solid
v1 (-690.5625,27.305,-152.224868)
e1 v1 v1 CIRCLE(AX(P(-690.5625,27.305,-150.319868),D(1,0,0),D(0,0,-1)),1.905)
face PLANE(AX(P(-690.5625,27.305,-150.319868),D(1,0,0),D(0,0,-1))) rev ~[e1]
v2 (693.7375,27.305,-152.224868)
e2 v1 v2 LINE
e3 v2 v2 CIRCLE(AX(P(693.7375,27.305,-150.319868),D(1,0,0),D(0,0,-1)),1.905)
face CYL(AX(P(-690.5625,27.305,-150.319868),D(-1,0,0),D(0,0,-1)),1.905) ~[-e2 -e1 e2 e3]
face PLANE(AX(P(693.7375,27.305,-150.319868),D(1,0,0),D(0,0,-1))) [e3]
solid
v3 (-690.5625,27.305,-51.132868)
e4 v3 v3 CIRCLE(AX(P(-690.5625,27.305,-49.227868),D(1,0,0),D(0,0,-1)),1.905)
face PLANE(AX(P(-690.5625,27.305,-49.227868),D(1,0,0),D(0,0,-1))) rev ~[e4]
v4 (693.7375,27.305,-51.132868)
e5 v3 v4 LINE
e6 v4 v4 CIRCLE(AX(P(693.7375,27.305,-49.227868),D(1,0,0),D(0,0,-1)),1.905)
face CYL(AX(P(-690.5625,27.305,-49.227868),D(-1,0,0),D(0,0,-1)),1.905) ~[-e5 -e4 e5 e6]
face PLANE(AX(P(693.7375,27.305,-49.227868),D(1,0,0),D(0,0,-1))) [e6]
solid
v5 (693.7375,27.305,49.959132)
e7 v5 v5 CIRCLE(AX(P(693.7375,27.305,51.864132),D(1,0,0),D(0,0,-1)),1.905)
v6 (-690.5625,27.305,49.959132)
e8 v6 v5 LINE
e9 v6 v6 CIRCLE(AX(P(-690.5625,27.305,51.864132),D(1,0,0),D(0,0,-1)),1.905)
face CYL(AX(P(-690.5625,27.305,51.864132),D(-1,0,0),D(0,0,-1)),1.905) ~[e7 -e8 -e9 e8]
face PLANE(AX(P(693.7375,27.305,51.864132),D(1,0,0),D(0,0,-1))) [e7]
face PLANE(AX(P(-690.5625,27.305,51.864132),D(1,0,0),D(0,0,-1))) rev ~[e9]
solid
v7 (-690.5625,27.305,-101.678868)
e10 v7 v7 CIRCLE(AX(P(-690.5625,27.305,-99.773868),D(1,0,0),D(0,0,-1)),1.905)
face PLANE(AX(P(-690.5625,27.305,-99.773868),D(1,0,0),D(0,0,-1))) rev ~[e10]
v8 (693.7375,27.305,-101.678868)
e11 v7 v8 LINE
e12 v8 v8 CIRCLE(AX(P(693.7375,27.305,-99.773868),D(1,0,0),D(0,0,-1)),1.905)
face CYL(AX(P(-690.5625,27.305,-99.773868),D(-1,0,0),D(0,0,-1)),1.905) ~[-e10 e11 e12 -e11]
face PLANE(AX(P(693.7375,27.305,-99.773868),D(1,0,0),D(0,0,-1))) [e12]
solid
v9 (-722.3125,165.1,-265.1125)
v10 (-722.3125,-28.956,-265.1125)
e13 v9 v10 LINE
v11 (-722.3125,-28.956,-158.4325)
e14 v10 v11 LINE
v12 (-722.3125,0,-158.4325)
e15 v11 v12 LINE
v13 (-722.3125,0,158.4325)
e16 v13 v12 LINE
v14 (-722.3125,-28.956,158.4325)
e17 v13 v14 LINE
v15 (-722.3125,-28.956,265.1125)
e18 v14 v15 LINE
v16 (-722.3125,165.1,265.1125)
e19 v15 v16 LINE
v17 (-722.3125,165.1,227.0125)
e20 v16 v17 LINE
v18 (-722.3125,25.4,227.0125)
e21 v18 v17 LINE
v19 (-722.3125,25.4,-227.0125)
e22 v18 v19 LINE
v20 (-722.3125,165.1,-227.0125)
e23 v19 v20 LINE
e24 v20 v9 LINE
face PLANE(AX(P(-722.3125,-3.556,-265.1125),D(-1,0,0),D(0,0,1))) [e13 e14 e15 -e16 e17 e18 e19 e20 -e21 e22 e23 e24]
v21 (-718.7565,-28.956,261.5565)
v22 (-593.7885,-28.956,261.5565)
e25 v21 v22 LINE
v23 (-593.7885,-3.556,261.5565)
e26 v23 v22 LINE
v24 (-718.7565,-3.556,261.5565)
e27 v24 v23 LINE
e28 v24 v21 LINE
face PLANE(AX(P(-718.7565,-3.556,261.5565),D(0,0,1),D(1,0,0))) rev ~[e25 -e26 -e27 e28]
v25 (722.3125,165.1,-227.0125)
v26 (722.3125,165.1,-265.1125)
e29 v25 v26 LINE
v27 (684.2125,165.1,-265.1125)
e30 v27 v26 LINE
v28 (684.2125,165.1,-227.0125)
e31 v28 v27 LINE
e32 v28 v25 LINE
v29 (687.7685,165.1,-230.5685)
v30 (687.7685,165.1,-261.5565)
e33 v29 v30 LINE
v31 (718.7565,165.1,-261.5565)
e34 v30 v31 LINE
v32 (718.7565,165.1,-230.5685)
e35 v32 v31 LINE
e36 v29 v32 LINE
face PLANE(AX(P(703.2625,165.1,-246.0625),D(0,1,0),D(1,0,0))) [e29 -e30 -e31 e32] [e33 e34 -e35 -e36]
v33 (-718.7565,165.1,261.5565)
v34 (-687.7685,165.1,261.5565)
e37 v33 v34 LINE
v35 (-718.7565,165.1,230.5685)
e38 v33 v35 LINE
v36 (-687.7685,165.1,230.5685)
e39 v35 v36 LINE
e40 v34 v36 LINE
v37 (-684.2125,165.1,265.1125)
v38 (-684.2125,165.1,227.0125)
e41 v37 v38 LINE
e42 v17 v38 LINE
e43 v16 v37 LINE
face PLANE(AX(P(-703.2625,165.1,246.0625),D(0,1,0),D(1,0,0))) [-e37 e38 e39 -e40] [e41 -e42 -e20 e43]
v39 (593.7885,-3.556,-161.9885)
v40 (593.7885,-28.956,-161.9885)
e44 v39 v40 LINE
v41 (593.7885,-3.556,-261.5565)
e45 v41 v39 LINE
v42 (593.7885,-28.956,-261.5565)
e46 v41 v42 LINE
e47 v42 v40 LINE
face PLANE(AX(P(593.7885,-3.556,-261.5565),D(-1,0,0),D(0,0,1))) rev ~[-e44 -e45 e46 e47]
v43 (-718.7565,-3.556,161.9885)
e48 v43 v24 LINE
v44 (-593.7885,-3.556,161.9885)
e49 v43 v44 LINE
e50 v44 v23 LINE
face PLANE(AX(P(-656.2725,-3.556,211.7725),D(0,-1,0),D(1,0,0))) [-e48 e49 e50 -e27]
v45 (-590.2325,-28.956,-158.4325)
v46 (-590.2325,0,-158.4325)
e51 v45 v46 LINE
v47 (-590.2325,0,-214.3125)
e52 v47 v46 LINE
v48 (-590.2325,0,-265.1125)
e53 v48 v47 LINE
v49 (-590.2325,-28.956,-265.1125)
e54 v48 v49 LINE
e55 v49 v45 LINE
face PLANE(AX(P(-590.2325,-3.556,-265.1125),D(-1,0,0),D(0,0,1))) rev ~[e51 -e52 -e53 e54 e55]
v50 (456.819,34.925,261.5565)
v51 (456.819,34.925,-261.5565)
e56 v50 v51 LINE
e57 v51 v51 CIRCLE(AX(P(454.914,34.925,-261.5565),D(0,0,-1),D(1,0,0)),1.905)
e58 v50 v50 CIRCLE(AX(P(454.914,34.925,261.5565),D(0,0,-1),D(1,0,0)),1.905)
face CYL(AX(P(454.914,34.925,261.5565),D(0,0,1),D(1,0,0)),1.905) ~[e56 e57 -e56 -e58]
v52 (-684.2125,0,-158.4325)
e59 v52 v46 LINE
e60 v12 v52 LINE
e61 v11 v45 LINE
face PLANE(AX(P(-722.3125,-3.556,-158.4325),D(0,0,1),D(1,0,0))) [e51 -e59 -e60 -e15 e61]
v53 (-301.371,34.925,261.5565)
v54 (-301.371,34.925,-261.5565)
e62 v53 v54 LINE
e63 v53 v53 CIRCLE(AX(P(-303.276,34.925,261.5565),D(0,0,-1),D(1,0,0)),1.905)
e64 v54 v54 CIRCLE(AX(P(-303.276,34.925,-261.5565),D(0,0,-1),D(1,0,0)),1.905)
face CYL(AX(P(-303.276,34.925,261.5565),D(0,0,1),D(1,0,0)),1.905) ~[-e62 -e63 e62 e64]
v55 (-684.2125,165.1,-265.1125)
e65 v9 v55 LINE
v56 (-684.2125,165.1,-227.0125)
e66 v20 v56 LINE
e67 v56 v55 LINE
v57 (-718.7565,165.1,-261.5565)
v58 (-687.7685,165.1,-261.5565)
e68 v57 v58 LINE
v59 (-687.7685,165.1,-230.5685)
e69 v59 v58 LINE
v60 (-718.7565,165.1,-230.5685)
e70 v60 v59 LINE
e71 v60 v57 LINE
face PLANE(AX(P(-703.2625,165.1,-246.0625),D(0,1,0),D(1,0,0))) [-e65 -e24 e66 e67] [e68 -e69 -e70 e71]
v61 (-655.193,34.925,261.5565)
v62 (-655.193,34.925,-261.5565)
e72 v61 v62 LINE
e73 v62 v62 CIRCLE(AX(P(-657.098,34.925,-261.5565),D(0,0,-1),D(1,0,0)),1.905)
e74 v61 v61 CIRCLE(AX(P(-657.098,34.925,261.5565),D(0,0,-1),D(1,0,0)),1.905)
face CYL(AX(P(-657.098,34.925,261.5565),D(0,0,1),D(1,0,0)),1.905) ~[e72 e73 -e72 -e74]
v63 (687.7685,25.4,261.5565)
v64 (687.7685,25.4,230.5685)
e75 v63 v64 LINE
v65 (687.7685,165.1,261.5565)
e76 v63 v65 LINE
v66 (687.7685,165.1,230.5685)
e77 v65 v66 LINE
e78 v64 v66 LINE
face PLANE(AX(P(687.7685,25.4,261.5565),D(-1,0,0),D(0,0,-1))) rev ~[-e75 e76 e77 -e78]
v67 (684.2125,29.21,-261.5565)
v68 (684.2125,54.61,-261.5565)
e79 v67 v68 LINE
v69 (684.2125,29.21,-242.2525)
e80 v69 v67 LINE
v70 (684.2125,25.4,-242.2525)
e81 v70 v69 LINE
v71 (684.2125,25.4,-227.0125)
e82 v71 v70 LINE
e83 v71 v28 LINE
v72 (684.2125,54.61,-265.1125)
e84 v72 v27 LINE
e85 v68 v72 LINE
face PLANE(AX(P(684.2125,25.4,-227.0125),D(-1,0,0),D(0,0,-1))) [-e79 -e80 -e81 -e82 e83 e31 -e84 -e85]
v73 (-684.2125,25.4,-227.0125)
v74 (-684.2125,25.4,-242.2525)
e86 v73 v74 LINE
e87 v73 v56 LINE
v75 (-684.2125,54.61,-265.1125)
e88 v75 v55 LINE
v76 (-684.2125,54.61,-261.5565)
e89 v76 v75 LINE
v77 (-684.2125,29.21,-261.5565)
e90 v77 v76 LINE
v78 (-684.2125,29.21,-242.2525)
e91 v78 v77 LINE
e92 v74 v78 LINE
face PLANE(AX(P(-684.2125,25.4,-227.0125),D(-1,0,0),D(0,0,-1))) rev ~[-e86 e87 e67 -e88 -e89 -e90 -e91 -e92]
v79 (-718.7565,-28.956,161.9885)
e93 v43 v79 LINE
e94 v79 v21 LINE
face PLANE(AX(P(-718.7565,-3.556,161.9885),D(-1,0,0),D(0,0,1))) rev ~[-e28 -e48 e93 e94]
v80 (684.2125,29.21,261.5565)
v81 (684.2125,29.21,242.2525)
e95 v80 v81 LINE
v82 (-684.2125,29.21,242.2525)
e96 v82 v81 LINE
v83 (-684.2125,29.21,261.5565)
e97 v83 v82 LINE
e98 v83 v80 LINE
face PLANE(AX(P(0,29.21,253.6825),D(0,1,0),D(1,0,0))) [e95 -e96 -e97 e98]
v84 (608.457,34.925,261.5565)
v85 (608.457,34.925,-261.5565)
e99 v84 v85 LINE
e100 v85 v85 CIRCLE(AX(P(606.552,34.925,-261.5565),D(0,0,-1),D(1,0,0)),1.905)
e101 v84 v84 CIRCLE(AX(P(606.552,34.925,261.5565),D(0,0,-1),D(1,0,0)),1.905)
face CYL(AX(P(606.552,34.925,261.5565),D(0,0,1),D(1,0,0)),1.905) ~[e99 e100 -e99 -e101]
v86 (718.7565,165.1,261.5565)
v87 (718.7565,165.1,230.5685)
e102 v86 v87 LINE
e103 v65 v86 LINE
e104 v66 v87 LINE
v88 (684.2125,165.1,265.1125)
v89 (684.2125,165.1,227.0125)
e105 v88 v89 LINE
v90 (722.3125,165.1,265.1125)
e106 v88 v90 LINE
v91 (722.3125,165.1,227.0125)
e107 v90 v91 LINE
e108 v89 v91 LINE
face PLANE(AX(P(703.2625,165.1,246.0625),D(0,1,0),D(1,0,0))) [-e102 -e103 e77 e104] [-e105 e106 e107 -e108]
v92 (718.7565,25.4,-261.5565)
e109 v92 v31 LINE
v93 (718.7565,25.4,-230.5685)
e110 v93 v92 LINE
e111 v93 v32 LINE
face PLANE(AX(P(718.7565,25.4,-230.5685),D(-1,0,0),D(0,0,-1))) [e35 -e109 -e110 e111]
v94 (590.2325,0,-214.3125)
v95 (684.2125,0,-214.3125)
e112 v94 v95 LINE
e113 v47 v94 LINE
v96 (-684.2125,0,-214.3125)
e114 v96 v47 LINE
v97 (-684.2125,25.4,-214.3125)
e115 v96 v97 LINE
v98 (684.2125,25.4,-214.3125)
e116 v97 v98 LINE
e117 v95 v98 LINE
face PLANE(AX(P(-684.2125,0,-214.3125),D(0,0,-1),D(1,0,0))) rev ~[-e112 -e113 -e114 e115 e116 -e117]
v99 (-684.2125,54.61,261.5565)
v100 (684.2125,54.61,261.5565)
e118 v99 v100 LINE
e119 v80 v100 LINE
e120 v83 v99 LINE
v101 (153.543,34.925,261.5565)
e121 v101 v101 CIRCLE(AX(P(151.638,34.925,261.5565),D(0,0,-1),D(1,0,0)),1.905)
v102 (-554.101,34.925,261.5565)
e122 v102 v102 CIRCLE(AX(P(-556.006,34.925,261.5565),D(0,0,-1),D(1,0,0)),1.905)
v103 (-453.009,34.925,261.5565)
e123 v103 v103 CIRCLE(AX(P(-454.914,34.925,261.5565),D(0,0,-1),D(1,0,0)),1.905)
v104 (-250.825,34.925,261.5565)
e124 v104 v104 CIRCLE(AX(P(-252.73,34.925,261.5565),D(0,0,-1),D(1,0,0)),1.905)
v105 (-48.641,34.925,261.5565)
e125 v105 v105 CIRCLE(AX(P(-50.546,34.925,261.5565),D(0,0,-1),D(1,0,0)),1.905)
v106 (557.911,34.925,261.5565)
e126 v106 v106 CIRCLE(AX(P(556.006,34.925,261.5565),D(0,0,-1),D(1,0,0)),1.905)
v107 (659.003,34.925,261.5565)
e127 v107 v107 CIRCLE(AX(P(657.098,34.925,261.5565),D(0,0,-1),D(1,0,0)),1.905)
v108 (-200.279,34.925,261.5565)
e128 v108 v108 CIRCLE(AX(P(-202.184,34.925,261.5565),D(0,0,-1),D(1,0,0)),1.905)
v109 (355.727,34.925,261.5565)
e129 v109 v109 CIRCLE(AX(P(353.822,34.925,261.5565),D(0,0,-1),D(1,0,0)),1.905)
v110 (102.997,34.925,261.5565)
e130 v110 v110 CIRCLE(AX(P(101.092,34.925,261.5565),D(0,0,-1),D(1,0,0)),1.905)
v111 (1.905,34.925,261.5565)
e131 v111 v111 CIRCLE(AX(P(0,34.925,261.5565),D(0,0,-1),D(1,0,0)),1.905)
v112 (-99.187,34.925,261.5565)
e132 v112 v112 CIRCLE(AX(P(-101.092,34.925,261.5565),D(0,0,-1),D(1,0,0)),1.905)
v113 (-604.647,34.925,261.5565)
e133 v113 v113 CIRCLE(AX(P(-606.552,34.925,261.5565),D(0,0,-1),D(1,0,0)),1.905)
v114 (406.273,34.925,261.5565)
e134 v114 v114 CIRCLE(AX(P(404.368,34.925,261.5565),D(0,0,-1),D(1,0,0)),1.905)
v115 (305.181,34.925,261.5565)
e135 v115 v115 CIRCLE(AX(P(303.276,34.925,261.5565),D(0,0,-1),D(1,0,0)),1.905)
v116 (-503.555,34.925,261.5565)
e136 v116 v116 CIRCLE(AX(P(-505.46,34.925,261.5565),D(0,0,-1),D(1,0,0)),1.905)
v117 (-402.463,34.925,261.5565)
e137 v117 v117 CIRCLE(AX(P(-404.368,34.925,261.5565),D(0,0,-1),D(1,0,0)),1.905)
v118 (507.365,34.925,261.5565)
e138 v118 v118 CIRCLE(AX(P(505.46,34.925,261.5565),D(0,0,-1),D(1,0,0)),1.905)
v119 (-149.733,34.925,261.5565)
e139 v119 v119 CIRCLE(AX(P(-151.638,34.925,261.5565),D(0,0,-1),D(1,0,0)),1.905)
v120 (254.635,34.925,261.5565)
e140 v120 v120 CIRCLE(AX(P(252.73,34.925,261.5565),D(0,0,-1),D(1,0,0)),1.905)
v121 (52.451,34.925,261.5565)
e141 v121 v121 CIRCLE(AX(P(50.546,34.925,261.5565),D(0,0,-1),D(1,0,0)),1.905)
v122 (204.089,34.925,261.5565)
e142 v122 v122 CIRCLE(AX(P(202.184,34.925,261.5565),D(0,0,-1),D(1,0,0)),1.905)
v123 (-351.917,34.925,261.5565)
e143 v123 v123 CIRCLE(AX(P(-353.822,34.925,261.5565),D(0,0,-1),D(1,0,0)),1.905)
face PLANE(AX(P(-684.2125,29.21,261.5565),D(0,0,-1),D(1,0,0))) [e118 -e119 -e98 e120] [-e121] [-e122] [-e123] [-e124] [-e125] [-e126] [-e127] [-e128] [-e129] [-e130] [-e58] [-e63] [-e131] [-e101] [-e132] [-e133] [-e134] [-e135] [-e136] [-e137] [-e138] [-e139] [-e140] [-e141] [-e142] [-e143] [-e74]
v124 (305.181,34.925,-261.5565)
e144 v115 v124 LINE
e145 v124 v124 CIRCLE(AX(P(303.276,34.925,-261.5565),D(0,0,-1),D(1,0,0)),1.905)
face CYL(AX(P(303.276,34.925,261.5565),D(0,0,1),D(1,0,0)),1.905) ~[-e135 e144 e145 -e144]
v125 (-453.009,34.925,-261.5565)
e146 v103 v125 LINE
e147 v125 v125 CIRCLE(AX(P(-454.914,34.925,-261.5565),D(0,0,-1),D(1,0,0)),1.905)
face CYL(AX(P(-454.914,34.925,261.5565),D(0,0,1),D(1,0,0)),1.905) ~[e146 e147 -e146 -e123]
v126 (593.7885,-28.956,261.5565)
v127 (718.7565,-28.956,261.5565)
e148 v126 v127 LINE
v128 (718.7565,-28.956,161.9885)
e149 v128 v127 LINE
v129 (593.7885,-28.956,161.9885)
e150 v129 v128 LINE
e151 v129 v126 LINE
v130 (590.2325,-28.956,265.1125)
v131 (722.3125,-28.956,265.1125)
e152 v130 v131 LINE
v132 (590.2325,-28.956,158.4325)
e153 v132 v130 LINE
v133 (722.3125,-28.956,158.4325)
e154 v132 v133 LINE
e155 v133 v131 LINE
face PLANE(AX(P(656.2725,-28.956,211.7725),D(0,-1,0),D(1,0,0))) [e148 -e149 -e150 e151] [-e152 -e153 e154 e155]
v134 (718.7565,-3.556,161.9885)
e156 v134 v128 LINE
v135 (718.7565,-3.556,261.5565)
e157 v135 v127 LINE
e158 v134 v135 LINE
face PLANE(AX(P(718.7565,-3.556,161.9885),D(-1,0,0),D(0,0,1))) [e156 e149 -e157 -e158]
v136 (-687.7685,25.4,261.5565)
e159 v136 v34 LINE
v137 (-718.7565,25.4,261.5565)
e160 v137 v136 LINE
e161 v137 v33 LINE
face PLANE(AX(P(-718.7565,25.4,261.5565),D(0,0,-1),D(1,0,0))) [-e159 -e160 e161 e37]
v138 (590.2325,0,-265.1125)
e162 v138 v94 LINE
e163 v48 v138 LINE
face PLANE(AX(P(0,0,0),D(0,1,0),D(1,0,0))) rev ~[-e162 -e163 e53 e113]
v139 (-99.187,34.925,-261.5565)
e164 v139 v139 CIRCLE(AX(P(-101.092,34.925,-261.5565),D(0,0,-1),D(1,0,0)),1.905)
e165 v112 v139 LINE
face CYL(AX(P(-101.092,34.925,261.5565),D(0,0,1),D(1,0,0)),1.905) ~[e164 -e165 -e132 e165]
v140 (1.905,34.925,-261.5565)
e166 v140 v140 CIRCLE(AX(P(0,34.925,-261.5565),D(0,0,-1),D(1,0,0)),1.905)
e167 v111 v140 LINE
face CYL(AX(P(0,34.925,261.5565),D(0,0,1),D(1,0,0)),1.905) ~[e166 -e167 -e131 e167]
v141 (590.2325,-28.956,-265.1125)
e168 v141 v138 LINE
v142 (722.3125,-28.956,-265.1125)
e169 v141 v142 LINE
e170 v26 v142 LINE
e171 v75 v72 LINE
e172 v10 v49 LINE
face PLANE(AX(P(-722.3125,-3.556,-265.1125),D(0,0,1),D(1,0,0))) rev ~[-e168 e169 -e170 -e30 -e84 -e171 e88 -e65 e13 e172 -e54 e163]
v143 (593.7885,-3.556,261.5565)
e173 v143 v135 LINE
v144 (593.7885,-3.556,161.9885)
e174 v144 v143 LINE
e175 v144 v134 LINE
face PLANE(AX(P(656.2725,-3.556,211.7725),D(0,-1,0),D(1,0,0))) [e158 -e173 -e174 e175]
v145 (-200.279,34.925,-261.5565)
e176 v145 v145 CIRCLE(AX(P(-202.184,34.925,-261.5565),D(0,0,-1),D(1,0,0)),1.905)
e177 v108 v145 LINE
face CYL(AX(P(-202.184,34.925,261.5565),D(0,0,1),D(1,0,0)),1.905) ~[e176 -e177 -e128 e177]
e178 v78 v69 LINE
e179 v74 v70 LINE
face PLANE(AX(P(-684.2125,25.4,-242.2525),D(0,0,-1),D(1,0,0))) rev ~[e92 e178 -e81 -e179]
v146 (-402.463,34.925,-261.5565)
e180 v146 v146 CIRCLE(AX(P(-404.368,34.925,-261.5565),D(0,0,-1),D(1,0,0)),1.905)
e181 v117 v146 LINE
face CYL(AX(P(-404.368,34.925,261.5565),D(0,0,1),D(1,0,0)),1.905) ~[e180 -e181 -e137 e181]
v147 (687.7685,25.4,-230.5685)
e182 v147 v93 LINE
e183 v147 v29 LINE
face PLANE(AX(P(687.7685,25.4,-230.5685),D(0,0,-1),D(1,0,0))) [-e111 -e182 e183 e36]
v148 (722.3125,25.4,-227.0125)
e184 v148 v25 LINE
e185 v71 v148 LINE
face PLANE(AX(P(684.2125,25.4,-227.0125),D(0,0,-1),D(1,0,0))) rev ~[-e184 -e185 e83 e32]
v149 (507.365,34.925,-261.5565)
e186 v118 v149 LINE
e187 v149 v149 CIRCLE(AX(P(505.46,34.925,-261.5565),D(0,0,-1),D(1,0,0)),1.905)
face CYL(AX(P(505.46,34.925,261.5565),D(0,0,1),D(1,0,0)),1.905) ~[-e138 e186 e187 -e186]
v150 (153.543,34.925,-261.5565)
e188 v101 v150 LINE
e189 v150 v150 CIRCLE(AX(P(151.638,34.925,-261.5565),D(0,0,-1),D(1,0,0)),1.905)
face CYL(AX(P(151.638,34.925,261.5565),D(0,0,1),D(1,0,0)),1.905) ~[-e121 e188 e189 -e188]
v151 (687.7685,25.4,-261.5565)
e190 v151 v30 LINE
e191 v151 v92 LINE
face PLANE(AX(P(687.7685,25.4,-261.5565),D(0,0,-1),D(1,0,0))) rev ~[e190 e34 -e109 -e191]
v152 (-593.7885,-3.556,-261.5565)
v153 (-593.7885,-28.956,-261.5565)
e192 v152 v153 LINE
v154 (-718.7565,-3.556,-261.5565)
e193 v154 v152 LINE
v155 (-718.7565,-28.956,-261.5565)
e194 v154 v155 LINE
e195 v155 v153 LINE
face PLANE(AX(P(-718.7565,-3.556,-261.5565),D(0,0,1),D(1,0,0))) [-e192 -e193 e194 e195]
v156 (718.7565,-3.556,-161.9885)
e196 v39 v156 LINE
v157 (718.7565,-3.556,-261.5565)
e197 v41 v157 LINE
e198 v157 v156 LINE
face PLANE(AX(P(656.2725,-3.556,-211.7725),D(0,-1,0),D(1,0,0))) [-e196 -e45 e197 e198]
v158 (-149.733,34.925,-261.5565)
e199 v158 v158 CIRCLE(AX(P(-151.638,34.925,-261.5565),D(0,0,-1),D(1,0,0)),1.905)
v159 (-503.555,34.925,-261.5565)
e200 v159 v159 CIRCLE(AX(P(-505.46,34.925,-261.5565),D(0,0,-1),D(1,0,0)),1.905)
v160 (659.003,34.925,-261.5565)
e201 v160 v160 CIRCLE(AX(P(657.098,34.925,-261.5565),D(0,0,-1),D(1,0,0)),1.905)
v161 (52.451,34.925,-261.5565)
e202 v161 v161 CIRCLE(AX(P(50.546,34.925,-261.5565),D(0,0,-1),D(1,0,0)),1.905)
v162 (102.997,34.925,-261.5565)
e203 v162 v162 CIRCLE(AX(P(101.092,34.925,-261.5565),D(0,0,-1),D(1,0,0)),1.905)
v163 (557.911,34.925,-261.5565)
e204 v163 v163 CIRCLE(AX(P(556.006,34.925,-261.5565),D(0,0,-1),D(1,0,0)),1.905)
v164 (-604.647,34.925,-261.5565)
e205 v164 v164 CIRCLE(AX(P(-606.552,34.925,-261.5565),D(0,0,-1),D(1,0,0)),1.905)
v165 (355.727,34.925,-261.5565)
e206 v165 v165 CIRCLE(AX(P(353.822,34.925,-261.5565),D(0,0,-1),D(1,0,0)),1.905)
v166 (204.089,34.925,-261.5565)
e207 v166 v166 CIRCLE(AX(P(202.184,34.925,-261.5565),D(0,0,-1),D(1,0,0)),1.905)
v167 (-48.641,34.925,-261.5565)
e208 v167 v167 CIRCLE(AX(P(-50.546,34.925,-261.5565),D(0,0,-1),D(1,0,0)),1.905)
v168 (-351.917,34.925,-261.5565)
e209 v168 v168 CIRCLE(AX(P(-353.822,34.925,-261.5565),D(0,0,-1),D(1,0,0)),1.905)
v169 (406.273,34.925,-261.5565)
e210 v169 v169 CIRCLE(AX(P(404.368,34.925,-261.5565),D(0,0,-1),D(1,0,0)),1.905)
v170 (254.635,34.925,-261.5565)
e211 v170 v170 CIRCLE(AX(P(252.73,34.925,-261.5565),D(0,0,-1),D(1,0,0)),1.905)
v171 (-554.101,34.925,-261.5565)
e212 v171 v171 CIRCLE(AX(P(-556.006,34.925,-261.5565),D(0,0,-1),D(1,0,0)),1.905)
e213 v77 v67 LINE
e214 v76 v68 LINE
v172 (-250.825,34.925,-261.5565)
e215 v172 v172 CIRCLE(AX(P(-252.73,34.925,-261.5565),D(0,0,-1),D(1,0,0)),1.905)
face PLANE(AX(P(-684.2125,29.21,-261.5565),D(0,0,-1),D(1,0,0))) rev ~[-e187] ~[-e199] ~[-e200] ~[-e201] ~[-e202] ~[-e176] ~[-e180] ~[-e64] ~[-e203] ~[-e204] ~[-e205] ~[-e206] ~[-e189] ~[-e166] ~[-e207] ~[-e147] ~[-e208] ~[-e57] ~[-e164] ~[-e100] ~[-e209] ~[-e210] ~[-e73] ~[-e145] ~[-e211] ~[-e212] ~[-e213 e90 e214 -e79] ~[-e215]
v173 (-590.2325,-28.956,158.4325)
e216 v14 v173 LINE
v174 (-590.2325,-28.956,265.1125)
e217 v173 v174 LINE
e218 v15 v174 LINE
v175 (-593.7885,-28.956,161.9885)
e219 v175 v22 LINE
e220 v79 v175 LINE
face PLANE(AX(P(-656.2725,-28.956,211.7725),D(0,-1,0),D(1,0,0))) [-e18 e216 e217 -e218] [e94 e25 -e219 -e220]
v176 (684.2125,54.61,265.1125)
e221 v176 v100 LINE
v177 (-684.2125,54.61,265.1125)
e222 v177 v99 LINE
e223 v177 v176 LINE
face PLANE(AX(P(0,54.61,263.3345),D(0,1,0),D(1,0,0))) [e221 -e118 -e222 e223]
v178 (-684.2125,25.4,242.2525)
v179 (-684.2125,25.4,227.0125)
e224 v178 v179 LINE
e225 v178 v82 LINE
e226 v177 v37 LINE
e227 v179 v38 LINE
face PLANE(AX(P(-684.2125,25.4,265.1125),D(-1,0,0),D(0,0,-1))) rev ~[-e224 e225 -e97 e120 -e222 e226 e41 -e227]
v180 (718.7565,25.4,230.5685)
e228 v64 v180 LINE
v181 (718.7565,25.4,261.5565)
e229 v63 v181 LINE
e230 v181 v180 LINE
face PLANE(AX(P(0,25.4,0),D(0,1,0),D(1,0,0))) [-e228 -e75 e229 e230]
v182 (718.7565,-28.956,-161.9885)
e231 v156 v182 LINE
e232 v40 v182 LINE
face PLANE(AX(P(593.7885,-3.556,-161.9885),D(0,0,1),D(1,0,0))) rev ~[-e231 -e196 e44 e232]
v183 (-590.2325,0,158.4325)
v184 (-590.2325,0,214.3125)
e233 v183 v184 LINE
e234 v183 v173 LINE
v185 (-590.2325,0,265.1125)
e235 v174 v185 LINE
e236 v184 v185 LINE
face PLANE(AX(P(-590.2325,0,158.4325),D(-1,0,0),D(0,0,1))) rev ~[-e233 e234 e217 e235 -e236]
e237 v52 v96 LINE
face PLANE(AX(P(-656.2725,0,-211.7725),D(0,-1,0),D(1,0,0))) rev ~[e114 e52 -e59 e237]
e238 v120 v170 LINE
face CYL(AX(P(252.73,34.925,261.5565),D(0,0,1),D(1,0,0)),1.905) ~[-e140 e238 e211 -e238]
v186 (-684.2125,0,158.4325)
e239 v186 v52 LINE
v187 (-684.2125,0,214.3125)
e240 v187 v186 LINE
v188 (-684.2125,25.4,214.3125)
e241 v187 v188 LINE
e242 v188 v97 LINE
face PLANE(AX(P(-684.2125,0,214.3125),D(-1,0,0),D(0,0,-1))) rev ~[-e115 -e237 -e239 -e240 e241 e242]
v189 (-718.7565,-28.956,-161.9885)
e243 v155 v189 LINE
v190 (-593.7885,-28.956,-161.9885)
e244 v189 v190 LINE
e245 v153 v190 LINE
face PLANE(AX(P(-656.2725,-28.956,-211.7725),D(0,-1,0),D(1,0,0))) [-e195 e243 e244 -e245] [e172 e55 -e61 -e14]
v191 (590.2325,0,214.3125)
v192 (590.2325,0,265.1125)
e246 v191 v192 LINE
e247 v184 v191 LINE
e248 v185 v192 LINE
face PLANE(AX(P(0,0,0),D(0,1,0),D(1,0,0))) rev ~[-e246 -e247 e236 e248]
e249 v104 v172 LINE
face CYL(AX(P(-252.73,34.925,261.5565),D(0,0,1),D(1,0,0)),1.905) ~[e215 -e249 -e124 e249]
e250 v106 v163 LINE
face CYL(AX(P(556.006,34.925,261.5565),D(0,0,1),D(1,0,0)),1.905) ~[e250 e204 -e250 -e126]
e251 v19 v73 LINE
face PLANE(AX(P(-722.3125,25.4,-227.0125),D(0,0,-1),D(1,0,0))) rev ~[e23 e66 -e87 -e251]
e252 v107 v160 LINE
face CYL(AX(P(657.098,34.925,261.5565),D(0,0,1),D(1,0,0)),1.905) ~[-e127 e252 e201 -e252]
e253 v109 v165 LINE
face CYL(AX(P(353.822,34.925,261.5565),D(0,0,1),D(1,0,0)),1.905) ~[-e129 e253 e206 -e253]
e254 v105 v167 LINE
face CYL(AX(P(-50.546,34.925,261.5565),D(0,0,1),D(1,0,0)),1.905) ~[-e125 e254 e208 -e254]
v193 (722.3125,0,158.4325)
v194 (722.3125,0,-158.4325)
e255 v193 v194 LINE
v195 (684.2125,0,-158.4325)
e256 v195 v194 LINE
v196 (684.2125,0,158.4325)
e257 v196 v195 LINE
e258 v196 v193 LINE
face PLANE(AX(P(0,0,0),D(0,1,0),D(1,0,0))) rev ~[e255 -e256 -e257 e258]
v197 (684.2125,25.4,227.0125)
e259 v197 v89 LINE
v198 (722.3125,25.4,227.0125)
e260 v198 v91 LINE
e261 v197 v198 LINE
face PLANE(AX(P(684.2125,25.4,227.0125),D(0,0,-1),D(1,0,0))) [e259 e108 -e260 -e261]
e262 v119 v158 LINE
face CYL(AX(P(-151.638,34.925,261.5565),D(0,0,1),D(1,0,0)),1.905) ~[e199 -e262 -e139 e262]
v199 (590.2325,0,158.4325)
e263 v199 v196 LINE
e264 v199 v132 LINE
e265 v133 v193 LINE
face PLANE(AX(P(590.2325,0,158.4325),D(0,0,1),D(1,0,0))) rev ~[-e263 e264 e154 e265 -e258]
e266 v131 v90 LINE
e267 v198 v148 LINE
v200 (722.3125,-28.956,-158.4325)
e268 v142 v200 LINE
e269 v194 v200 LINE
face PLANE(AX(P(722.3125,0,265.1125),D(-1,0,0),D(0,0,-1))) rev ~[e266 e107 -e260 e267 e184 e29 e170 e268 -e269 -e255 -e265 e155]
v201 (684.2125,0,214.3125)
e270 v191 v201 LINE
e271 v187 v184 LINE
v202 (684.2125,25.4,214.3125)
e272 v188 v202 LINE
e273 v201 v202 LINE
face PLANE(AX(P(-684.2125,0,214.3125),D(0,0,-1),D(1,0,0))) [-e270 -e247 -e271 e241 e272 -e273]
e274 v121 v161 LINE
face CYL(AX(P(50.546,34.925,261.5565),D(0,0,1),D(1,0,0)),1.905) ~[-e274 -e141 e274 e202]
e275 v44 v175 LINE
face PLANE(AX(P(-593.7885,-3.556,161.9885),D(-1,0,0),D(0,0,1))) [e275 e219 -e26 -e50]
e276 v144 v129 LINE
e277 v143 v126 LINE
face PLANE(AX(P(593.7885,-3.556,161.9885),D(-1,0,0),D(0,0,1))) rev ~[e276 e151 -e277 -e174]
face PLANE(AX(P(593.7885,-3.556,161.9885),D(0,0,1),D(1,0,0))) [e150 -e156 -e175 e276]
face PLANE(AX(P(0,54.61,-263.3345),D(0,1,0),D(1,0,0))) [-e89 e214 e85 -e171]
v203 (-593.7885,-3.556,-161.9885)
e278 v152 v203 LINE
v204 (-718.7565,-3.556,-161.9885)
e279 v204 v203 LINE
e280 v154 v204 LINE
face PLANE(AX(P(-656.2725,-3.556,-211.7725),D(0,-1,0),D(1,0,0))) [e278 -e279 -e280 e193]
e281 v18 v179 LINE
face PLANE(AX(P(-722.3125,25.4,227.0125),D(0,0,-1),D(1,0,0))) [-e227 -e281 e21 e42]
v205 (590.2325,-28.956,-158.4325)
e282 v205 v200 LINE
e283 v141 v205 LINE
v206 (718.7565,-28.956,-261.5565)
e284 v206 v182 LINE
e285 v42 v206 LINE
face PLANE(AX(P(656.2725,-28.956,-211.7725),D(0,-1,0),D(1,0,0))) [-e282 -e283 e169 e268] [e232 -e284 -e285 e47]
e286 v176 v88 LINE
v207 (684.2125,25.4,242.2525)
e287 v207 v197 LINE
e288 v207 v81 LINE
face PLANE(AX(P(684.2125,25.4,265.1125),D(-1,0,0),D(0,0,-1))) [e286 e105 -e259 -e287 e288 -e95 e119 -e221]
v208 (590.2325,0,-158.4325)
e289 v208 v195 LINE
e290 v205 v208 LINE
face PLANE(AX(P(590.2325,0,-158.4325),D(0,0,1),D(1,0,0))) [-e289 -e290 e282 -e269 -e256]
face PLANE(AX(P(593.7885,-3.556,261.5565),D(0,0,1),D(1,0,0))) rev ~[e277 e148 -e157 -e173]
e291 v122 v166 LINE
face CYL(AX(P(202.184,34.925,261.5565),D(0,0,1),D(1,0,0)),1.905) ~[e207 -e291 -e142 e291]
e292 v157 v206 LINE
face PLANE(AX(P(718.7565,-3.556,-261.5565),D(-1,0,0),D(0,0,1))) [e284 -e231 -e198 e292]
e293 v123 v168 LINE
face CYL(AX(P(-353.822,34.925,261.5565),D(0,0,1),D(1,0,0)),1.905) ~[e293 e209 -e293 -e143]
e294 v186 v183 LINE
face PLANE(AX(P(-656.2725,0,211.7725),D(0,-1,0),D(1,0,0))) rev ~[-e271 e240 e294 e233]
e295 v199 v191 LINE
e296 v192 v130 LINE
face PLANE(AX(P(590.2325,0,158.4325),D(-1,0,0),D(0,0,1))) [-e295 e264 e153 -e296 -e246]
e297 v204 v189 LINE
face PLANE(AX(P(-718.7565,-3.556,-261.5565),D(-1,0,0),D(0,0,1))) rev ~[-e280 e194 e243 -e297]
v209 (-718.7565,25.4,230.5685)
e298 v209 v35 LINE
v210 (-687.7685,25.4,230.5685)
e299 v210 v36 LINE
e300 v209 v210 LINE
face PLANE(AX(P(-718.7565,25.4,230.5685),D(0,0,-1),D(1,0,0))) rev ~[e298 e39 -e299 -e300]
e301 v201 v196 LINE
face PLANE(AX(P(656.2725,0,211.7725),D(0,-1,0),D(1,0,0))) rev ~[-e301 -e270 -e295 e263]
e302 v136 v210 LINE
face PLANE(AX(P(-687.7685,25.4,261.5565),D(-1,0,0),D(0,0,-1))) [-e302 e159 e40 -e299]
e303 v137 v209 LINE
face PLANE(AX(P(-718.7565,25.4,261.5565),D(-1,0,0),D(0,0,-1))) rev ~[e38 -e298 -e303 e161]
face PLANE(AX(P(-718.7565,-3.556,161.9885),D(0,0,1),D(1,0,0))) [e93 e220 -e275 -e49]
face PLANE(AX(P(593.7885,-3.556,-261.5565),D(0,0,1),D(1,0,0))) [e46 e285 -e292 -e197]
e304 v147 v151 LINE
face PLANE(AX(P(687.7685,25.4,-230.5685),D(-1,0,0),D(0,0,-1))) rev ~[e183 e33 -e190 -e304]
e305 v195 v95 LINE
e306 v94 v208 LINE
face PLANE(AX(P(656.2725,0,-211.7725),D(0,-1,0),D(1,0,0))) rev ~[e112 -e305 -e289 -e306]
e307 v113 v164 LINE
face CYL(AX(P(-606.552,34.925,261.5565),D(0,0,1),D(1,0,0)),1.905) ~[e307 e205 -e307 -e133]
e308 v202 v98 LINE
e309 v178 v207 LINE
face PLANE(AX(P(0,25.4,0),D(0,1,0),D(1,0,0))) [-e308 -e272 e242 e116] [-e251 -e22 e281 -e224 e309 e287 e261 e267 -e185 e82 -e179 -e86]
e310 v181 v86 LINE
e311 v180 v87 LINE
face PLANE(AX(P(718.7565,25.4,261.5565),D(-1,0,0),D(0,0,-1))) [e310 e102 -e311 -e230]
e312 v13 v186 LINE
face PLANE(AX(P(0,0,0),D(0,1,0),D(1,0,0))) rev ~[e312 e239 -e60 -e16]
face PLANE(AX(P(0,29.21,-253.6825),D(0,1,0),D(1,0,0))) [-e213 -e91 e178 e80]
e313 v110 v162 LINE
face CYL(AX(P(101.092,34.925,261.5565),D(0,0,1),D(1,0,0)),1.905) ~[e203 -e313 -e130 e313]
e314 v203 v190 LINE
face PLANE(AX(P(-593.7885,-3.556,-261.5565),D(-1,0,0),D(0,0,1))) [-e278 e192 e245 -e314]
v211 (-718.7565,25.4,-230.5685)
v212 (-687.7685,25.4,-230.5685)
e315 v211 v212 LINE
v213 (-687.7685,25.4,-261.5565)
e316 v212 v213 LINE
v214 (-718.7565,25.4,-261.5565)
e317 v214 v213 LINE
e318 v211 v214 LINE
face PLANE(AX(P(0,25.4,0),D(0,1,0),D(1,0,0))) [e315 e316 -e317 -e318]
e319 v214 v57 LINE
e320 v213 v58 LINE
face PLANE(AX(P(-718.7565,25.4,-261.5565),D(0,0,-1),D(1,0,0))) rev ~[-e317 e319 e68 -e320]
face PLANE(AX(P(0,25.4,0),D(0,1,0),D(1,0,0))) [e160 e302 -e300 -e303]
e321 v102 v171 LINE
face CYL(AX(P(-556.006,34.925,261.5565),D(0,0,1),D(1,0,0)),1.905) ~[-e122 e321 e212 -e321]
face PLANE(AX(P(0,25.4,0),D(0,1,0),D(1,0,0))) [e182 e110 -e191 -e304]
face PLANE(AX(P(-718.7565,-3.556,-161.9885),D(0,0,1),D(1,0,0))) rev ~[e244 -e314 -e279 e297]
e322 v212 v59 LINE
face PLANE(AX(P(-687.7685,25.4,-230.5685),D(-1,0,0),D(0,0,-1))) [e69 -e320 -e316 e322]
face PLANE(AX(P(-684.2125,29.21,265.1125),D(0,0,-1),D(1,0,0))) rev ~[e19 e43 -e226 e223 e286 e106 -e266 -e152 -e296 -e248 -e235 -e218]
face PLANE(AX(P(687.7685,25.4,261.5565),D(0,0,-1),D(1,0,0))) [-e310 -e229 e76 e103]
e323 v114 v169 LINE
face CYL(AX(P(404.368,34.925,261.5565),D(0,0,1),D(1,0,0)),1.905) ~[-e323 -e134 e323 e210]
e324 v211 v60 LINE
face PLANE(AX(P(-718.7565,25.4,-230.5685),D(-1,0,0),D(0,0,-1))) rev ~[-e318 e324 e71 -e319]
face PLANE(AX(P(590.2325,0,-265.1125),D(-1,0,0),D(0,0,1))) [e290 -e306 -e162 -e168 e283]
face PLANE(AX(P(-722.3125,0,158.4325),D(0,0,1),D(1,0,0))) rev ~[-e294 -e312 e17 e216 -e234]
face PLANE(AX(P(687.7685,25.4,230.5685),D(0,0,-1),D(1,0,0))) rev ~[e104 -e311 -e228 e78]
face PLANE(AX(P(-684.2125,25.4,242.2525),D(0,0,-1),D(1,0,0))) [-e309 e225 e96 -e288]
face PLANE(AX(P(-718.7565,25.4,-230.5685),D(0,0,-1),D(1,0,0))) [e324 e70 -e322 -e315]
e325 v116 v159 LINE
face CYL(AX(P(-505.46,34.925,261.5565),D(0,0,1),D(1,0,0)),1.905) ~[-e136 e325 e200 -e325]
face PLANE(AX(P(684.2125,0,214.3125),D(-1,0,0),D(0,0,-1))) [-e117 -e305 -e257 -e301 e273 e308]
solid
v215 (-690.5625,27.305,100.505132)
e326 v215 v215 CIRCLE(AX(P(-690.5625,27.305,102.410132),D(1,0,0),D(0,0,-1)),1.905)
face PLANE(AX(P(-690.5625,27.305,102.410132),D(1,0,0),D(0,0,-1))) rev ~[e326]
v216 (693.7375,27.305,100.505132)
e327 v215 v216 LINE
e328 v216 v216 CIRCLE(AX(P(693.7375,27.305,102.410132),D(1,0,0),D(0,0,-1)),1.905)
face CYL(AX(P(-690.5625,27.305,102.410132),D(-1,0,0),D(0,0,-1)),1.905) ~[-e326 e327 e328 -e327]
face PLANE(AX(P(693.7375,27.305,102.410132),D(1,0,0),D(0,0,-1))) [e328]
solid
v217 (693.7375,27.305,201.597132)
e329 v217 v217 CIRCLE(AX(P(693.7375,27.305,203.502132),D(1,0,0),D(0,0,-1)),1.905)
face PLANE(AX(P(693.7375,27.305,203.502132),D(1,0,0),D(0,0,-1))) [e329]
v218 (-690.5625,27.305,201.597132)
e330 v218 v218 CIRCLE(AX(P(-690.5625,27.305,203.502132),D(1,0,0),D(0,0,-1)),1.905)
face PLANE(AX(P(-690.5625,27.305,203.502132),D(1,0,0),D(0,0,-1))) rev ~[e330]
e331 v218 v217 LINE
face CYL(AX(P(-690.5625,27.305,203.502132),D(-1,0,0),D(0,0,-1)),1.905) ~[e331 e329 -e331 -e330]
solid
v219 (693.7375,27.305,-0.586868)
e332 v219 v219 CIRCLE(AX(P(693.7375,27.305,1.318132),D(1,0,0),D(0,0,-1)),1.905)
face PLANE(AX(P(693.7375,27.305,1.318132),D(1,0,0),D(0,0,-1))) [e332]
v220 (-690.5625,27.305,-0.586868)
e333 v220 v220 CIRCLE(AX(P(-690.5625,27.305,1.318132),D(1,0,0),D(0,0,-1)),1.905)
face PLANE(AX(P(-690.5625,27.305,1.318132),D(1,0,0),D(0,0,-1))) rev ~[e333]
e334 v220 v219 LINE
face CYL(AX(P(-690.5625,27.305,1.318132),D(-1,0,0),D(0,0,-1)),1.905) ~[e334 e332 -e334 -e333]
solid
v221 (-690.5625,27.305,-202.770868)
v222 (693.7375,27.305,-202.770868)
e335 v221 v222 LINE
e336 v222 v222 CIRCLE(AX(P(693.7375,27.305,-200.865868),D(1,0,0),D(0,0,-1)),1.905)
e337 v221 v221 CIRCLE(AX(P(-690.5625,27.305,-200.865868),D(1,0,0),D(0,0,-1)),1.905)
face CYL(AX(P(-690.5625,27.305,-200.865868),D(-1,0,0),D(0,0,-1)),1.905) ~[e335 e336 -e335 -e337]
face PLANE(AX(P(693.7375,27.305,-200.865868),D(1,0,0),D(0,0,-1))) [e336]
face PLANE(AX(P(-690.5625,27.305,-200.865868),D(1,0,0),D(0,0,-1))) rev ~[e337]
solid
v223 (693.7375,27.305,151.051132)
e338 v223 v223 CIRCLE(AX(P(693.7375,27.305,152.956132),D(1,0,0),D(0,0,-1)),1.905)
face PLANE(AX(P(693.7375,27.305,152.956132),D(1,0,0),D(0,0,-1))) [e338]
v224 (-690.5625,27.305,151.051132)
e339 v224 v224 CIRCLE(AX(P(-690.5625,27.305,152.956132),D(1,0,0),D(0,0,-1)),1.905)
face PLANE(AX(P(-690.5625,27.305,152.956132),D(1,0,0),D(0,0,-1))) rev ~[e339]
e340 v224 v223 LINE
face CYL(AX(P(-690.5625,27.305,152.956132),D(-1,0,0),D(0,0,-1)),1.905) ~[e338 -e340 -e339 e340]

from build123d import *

# Parameters (mm, degrees)
SKETCH1_W             = 1444.625
SKETCH1_H             = 530.225
SKETCH1_W_2           = 1368.425
SKETCH1_H_2           = 428.625
BOSS_EXTRUDE1_DEPTH   = 25.4
SKETCH2_W             = 38.1
SKETCH2_H             = 38.1
SKETCH2_W_2           = 30.988
SKETCH2_H_2           = 30.988
BOSS_EXTRUDE2_DEPTH   = 139.7
SKETCH3_W             = 1368.425
SKETCH3_H             = 22.86
BOSS_EXTRUDE3_DEPTH   = 3.81
SKETCH4_R             = 1.905
BOSS_EXTRUDE4_DEPTH   = 1384.3
BOSS_EXTRUDE4_2_DEPTH = 1384.3
BOSS_EXTRUDE4_3_DEPTH = 1384.3
BOSS_EXTRUDE4_4_DEPTH = 1384.3
BOSS_EXTRUDE4_5_DEPTH = 1384.3
BOSS_EXTRUDE4_6_DEPTH = 1384.3
BOSS_EXTRUDE4_7_DEPTH = 1384.3
BOSS_EXTRUDE4_8_DEPTH = 1384.3
BOSS_EXTRUDE4_9_DEPTH = 1384.3
SKETCH5_W             = 1368.425
SKETCH5_H             = 3.556
BOSS_EXTRUDE5_DEPTH   = 25.4
SKETCH6_R             = 1.905
BOSS_EXTRUDE6_DEPTH   = 523.113
SKETCH7_W             = 132.08
SKETCH7_H             = 106.68
BOSS_EXTRUDE7_DEPTH   = 3.556
SKETCH8_W             = 132.08
SKETCH8_H             = 106.68
SKETCH8_W_2           = 124.968
SKETCH8_H_2           = 99.568
BOSS_EXTRUDE8_DEPTH   = 25.4


with BuildPart() as part:
    # Sketch1 → Boss-Extrude1 (new body)
    with BuildSketch(Plane(origin=(0, 0, 0), x_dir=(1, 0, 0), z_dir=(0, 1, 0))):
        Rectangle(SKETCH1_W, SKETCH1_H)
        Rectangle(SKETCH1_W_2, SKETCH1_H_2, mode=Mode.SUBTRACT)
    extrude(amount=BOSS_EXTRUDE1_DEPTH)

    # Sketch2 → Boss-Extrude2 (add)
    # profile 1 of 4: a face of its own
    with BuildSketch(Plane(origin=(0, 25.4, 0), x_dir=(1, 0, 0), z_dir=(0, 1, 0))):
        with Locations((-703.2625, 246.0625)):
            Rectangle(SKETCH2_W, SKETCH2_H)
        with Locations((-703.2625, 246.0625)):
            Rectangle(SKETCH2_W_2, SKETCH2_H_2, mode=Mode.SUBTRACT)
    # profile 2 of 4: a face of its own
    with BuildSketch(Plane(origin=(0, 25.4, 0), x_dir=(1, 0, 0), z_dir=(0, 1, 0))):
        with Locations((-703.2625, -246.0625)):
            Rectangle(SKETCH2_W, SKETCH2_H)
        with Locations((-703.2625, -246.0625)):
            Rectangle(SKETCH2_W_2, SKETCH2_H_2, mode=Mode.SUBTRACT)
    # profile 3 of 4: a face of its own
    with BuildSketch(Plane(origin=(0, 25.4, 0), x_dir=(1, 0, 0), z_dir=(0, 1, 0))):
        with Locations((703.2625, -246.0625)):
            Rectangle(SKETCH2_W, SKETCH2_H)
        with Locations((703.2625, -246.0625)):
            Rectangle(SKETCH2_W_2, SKETCH2_H_2, mode=Mode.SUBTRACT)
    # profile 4 of 4: a face of its own
    with BuildSketch(Plane(origin=(0, 25.4, 0), x_dir=(1, 0, 0), z_dir=(0, 1, 0))):
        with Locations((703.2625, 246.0625)):
            Rectangle(SKETCH2_W, SKETCH2_H)
        with Locations((703.2625, 246.0625)):
            Rectangle(SKETCH2_W_2, SKETCH2_H_2, mode=Mode.SUBTRACT)
    extrude(amount=BOSS_EXTRUDE2_DEPTH)

    # Sketch3 → Boss-Extrude3 (add)
    with BuildSketch(Plane(origin=(0, 25.4, 0), x_dir=(1, 0, 0), z_dir=(0, 1, 0))):
        with Locations((0, 253.6825)):
            Rectangle(SKETCH3_W, SKETCH3_H)
        with Locations((0, -253.6825)):
            Rectangle(SKETCH3_W, SKETCH3_H)
    extrude(amount=BOSS_EXTRUDE3_DEPTH)

    # Sketch5 → Boss-Extrude5 (add)
    with BuildSketch(Plane(origin=(0, 29.21, 0), x_dir=(1, 0, 0), z_dir=(0, 1, 0))):
        with Locations((0, -263.3345)):
            Rectangle(SKETCH5_W, SKETCH5_H)
        with Locations((0, 263.3345)):
            Rectangle(SKETCH5_W, SKETCH5_H)
    extrude(amount=BOSS_EXTRUDE5_DEPTH)

    # Sketch6 → Boss-Extrude6 (add)
    with BuildSketch(Plane(origin=(0, 0, 261.5565), x_dir=(-1, 0, 0), z_dir=(0, 0, -1))):
        with Locations(Location((0, 34.925, 0), (0, 0, 180))):
            Circle(SKETCH6_R)
        with Locations(Location((50.546, 34.925, 0), (0, 0, 180))):
            Circle(SKETCH6_R)
        with Locations(Location((101.092, 34.925, 0), (0, 0, 180))):
            Circle(SKETCH6_R)
        with Locations(Location((151.638, 34.925, 0), (0, 0, 180))):
            Circle(SKETCH6_R)
        with Locations(Location((202.184, 34.925, 0), (0, 0, 180))):
            Circle(SKETCH6_R)
        with Locations(Location((252.73, 34.925, 0), (0, 0, 180))):
            Circle(SKETCH6_R)
        with Locations(Location((303.276, 34.925, 0), (0, 0, 180))):
            Circle(SKETCH6_R)
        with Locations(Location((353.822, 34.925, 0), (0, 0, 180))):
            Circle(SKETCH6_R)
        with Locations(Location((404.368, 34.925, 0), (0, 0, 180))):
            Circle(SKETCH6_R)
        with Locations(Location((454.914, 34.925, 0), (0, 0, 180))):
            Circle(SKETCH6_R)
        with Locations(Location((505.46, 34.925, 0), (0, 0, 180))):
            Circle(SKETCH6_R)
        with Locations(Location((556.006, 34.925, 0), (0, 0, 180))):
            Circle(SKETCH6_R)
        with Locations(Location((606.552, 34.925, 0), (0, 0, 180))):
            Circle(SKETCH6_R)
        with Locations(Location((657.098, 34.925, 0), (0, 0, 180))):
            Circle(SKETCH6_R)
        with Locations(Location((-50.546, 34.925, 0), (0, 0, 180))):
            Circle(SKETCH6_R)
        with Locations(Location((-101.092, 34.925, 0), (0, 0, 180))):
            Circle(SKETCH6_R)
        with Locations(Location((-151.638, 34.925, 0), (0, 0, 180))):
            Circle(SKETCH6_R)
        with Locations(Location((-202.184, 34.925, 0), (0, 0, 180))):
            Circle(SKETCH6_R)
        with Locations(Location((-252.73, 34.925, 0), (0, 0, 180))):
            Circle(SKETCH6_R)
        with Locations(Location((-303.276, 34.925, 0), (0, 0, 180))):
            Circle(SKETCH6_R)
        with Locations(Location((-353.822, 34.925, 0), (0, 0, 180))):
            Circle(SKETCH6_R)
        with Locations(Location((-404.368, 34.925, 0), (0, 0, 180))):
            Circle(SKETCH6_R)
        with Locations(Location((-454.914, 34.925, 0), (0, 0, 180))):
            Circle(SKETCH6_R)
        with Locations(Location((-505.46, 34.925, 0), (0, 0, 180))):
            Circle(SKETCH6_R)
        with Locations(Location((-556.006, 34.925, 0), (0, 0, 180))):
            Circle(SKETCH6_R)
        with Locations(Location((-606.552, 34.925, 0), (0, 0, 180))):
            Circle(SKETCH6_R)
        with Locations(Location((-657.098, 34.925, 0), (0, 0, 180))):
            Circle(SKETCH6_R)
    extrude(amount=BOSS_EXTRUDE6_DEPTH)

    # Sketch7 → Boss-Extrude7 (add)
    with BuildSketch(Plane.XZ):
        with Locations((-656.2725, -211.7725)):
            Rectangle(SKETCH7_W, SKETCH7_H)
        with Locations((-656.2725, 211.7725)):
            Rectangle(SKETCH7_W, SKETCH7_H)
        with Locations((656.2725, -211.7725)):
            Rectangle(SKETCH7_W, SKETCH7_H)
        with Locations((656.2725, 211.7725)):
            Rectangle(SKETCH7_W, SKETCH7_H)
    extrude(amount=BOSS_EXTRUDE7_DEPTH)

    # Sketch8 → Boss-Extrude8 (add)
    # profile 1 of 4: a face of its own
    with BuildSketch(Plane.XZ.offset(3.556)):
        with Locations((-656.2725, -211.7725)):
            Rectangle(SKETCH8_W, SKETCH8_H)
        with Locations((-656.2725, -211.7725)):
            Rectangle(SKETCH8_W_2, SKETCH8_H_2, mode=Mode.SUBTRACT)
    # profile 2 of 4: a face of its own
    with BuildSketch(Plane.XZ.offset(3.556)):
        with Locations((-656.2725, 211.7725)):
            Rectangle(SKETCH8_W, SKETCH8_H)
        with Locations((-656.2725, 211.7725)):
            Rectangle(SKETCH8_W_2, SKETCH8_H_2, mode=Mode.SUBTRACT)
    # profile 3 of 4: a face of its own
    with BuildSketch(Plane.XZ.offset(3.556)):
        with Locations((656.2725, 211.7725)):
            Rectangle(SKETCH8_W, SKETCH8_H)
        with Locations((656.2725, 211.7725)):
            Rectangle(SKETCH8_W_2, SKETCH8_H_2, mode=Mode.SUBTRACT)
    # profile 4 of 4: a face of its own
    with BuildSketch(Plane.XZ.offset(3.556)):
        with Locations((656.2725, -211.7725)):
            Rectangle(SKETCH8_W, SKETCH8_H)
        with Locations((656.2725, -211.7725)):
            Rectangle(SKETCH8_W_2, SKETCH8_H_2, mode=Mode.SUBTRACT)
    extrude(amount=BOSS_EXTRUDE8_DEPTH)


with BuildPart() as body_2:
    # Sketch4 → Boss-Extrude4 (new body)
    with BuildSketch(Plane(origin=(-690.5625, 0, 0), x_dir=(0, 0, -1), z_dir=(1, 0, 0))):
        with Locations((-1.318131718, 27.305)):
            Circle(SKETCH4_R)
    extrude(amount=BOSS_EXTRUDE4_DEPTH)


with BuildPart() as body_3:
    # Sketch4 → Boss-Extrude4 2 (new body)
    with BuildSketch(Plane(origin=(-690.5625, 0, 0), x_dir=(0, 0, -1), z_dir=(1, 0, 0))):
        with Locations((49.227868282, 27.305)):
            Circle(SKETCH4_R)
    extrude(amount=BOSS_EXTRUDE4_2_DEPTH)


with BuildPart() as body_4:
    # Sketch4 → Boss-Extrude4 3 (new body)
    with BuildSketch(Plane(origin=(-690.5625, 0, 0), x_dir=(0, 0, -1), z_dir=(1, 0, 0))):
        with Locations((99.773868282, 27.305)):
            Circle(SKETCH4_R)
    extrude(amount=BOSS_EXTRUDE4_3_DEPTH)


with BuildPart() as body_5:
    # Sketch4 → Boss-Extrude4 4 (new body)
    with BuildSketch(Plane(origin=(-690.5625, 0, 0), x_dir=(0, 0, -1), z_dir=(1, 0, 0))):
        with Locations((150.319868282, 27.305)):
            Circle(SKETCH4_R)
    extrude(amount=BOSS_EXTRUDE4_4_DEPTH)


with BuildPart() as body_6:
    # Sketch4 → Boss-Extrude4 5 (new body)
    with BuildSketch(Plane(origin=(-690.5625, 0, 0), x_dir=(0, 0, -1), z_dir=(1, 0, 0))):
        with Locations((200.865868282, 27.305)):
            Circle(SKETCH4_R)
    extrude(amount=BOSS_EXTRUDE4_5_DEPTH)


with BuildPart() as body_7:
    # Sketch4 → Boss-Extrude4 6 (new body)
    with BuildSketch(Plane(origin=(-690.5625, 0, 0), x_dir=(0, 0, -1), z_dir=(1, 0, 0))):
        with Locations((-51.864131718, 27.305)):
            Circle(SKETCH4_R)
    extrude(amount=BOSS_EXTRUDE4_6_DEPTH)


with BuildPart() as body_8:
    # Sketch4 → Boss-Extrude4 7 (new body)
    with BuildSketch(Plane(origin=(-690.5625, 0, 0), x_dir=(0, 0, -1), z_dir=(1, 0, 0))):
        with Locations((-102.410131718, 27.305)):
            Circle(SKETCH4_R)
    extrude(amount=BOSS_EXTRUDE4_7_DEPTH)


with BuildPart() as body_9:
    # Sketch4 → Boss-Extrude4 8 (new body)
    with BuildSketch(Plane(origin=(-690.5625, 0, 0), x_dir=(0, 0, -1), z_dir=(1, 0, 0))):
        with Locations((-152.956131718, 27.305)):
            Circle(SKETCH4_R)
    extrude(amount=BOSS_EXTRUDE4_8_DEPTH)


with BuildPart() as body_10:
    # Sketch4 → Boss-Extrude4 9 (new body)
    with BuildSketch(Plane(origin=(-690.5625, 0, 0), x_dir=(0, 0, -1), z_dir=(1, 0, 0))):
        with Locations((-203.502131718, 27.305)):
            Circle(SKETCH4_R)
    extrude(amount=BOSS_EXTRUDE4_9_DEPTH)


solid = Compound([part.part, body_2.part, body_3.part, body_4.part, body_5.part, body_6.part, body_7.part, body_8.part, body_9.part, body_10.part])
